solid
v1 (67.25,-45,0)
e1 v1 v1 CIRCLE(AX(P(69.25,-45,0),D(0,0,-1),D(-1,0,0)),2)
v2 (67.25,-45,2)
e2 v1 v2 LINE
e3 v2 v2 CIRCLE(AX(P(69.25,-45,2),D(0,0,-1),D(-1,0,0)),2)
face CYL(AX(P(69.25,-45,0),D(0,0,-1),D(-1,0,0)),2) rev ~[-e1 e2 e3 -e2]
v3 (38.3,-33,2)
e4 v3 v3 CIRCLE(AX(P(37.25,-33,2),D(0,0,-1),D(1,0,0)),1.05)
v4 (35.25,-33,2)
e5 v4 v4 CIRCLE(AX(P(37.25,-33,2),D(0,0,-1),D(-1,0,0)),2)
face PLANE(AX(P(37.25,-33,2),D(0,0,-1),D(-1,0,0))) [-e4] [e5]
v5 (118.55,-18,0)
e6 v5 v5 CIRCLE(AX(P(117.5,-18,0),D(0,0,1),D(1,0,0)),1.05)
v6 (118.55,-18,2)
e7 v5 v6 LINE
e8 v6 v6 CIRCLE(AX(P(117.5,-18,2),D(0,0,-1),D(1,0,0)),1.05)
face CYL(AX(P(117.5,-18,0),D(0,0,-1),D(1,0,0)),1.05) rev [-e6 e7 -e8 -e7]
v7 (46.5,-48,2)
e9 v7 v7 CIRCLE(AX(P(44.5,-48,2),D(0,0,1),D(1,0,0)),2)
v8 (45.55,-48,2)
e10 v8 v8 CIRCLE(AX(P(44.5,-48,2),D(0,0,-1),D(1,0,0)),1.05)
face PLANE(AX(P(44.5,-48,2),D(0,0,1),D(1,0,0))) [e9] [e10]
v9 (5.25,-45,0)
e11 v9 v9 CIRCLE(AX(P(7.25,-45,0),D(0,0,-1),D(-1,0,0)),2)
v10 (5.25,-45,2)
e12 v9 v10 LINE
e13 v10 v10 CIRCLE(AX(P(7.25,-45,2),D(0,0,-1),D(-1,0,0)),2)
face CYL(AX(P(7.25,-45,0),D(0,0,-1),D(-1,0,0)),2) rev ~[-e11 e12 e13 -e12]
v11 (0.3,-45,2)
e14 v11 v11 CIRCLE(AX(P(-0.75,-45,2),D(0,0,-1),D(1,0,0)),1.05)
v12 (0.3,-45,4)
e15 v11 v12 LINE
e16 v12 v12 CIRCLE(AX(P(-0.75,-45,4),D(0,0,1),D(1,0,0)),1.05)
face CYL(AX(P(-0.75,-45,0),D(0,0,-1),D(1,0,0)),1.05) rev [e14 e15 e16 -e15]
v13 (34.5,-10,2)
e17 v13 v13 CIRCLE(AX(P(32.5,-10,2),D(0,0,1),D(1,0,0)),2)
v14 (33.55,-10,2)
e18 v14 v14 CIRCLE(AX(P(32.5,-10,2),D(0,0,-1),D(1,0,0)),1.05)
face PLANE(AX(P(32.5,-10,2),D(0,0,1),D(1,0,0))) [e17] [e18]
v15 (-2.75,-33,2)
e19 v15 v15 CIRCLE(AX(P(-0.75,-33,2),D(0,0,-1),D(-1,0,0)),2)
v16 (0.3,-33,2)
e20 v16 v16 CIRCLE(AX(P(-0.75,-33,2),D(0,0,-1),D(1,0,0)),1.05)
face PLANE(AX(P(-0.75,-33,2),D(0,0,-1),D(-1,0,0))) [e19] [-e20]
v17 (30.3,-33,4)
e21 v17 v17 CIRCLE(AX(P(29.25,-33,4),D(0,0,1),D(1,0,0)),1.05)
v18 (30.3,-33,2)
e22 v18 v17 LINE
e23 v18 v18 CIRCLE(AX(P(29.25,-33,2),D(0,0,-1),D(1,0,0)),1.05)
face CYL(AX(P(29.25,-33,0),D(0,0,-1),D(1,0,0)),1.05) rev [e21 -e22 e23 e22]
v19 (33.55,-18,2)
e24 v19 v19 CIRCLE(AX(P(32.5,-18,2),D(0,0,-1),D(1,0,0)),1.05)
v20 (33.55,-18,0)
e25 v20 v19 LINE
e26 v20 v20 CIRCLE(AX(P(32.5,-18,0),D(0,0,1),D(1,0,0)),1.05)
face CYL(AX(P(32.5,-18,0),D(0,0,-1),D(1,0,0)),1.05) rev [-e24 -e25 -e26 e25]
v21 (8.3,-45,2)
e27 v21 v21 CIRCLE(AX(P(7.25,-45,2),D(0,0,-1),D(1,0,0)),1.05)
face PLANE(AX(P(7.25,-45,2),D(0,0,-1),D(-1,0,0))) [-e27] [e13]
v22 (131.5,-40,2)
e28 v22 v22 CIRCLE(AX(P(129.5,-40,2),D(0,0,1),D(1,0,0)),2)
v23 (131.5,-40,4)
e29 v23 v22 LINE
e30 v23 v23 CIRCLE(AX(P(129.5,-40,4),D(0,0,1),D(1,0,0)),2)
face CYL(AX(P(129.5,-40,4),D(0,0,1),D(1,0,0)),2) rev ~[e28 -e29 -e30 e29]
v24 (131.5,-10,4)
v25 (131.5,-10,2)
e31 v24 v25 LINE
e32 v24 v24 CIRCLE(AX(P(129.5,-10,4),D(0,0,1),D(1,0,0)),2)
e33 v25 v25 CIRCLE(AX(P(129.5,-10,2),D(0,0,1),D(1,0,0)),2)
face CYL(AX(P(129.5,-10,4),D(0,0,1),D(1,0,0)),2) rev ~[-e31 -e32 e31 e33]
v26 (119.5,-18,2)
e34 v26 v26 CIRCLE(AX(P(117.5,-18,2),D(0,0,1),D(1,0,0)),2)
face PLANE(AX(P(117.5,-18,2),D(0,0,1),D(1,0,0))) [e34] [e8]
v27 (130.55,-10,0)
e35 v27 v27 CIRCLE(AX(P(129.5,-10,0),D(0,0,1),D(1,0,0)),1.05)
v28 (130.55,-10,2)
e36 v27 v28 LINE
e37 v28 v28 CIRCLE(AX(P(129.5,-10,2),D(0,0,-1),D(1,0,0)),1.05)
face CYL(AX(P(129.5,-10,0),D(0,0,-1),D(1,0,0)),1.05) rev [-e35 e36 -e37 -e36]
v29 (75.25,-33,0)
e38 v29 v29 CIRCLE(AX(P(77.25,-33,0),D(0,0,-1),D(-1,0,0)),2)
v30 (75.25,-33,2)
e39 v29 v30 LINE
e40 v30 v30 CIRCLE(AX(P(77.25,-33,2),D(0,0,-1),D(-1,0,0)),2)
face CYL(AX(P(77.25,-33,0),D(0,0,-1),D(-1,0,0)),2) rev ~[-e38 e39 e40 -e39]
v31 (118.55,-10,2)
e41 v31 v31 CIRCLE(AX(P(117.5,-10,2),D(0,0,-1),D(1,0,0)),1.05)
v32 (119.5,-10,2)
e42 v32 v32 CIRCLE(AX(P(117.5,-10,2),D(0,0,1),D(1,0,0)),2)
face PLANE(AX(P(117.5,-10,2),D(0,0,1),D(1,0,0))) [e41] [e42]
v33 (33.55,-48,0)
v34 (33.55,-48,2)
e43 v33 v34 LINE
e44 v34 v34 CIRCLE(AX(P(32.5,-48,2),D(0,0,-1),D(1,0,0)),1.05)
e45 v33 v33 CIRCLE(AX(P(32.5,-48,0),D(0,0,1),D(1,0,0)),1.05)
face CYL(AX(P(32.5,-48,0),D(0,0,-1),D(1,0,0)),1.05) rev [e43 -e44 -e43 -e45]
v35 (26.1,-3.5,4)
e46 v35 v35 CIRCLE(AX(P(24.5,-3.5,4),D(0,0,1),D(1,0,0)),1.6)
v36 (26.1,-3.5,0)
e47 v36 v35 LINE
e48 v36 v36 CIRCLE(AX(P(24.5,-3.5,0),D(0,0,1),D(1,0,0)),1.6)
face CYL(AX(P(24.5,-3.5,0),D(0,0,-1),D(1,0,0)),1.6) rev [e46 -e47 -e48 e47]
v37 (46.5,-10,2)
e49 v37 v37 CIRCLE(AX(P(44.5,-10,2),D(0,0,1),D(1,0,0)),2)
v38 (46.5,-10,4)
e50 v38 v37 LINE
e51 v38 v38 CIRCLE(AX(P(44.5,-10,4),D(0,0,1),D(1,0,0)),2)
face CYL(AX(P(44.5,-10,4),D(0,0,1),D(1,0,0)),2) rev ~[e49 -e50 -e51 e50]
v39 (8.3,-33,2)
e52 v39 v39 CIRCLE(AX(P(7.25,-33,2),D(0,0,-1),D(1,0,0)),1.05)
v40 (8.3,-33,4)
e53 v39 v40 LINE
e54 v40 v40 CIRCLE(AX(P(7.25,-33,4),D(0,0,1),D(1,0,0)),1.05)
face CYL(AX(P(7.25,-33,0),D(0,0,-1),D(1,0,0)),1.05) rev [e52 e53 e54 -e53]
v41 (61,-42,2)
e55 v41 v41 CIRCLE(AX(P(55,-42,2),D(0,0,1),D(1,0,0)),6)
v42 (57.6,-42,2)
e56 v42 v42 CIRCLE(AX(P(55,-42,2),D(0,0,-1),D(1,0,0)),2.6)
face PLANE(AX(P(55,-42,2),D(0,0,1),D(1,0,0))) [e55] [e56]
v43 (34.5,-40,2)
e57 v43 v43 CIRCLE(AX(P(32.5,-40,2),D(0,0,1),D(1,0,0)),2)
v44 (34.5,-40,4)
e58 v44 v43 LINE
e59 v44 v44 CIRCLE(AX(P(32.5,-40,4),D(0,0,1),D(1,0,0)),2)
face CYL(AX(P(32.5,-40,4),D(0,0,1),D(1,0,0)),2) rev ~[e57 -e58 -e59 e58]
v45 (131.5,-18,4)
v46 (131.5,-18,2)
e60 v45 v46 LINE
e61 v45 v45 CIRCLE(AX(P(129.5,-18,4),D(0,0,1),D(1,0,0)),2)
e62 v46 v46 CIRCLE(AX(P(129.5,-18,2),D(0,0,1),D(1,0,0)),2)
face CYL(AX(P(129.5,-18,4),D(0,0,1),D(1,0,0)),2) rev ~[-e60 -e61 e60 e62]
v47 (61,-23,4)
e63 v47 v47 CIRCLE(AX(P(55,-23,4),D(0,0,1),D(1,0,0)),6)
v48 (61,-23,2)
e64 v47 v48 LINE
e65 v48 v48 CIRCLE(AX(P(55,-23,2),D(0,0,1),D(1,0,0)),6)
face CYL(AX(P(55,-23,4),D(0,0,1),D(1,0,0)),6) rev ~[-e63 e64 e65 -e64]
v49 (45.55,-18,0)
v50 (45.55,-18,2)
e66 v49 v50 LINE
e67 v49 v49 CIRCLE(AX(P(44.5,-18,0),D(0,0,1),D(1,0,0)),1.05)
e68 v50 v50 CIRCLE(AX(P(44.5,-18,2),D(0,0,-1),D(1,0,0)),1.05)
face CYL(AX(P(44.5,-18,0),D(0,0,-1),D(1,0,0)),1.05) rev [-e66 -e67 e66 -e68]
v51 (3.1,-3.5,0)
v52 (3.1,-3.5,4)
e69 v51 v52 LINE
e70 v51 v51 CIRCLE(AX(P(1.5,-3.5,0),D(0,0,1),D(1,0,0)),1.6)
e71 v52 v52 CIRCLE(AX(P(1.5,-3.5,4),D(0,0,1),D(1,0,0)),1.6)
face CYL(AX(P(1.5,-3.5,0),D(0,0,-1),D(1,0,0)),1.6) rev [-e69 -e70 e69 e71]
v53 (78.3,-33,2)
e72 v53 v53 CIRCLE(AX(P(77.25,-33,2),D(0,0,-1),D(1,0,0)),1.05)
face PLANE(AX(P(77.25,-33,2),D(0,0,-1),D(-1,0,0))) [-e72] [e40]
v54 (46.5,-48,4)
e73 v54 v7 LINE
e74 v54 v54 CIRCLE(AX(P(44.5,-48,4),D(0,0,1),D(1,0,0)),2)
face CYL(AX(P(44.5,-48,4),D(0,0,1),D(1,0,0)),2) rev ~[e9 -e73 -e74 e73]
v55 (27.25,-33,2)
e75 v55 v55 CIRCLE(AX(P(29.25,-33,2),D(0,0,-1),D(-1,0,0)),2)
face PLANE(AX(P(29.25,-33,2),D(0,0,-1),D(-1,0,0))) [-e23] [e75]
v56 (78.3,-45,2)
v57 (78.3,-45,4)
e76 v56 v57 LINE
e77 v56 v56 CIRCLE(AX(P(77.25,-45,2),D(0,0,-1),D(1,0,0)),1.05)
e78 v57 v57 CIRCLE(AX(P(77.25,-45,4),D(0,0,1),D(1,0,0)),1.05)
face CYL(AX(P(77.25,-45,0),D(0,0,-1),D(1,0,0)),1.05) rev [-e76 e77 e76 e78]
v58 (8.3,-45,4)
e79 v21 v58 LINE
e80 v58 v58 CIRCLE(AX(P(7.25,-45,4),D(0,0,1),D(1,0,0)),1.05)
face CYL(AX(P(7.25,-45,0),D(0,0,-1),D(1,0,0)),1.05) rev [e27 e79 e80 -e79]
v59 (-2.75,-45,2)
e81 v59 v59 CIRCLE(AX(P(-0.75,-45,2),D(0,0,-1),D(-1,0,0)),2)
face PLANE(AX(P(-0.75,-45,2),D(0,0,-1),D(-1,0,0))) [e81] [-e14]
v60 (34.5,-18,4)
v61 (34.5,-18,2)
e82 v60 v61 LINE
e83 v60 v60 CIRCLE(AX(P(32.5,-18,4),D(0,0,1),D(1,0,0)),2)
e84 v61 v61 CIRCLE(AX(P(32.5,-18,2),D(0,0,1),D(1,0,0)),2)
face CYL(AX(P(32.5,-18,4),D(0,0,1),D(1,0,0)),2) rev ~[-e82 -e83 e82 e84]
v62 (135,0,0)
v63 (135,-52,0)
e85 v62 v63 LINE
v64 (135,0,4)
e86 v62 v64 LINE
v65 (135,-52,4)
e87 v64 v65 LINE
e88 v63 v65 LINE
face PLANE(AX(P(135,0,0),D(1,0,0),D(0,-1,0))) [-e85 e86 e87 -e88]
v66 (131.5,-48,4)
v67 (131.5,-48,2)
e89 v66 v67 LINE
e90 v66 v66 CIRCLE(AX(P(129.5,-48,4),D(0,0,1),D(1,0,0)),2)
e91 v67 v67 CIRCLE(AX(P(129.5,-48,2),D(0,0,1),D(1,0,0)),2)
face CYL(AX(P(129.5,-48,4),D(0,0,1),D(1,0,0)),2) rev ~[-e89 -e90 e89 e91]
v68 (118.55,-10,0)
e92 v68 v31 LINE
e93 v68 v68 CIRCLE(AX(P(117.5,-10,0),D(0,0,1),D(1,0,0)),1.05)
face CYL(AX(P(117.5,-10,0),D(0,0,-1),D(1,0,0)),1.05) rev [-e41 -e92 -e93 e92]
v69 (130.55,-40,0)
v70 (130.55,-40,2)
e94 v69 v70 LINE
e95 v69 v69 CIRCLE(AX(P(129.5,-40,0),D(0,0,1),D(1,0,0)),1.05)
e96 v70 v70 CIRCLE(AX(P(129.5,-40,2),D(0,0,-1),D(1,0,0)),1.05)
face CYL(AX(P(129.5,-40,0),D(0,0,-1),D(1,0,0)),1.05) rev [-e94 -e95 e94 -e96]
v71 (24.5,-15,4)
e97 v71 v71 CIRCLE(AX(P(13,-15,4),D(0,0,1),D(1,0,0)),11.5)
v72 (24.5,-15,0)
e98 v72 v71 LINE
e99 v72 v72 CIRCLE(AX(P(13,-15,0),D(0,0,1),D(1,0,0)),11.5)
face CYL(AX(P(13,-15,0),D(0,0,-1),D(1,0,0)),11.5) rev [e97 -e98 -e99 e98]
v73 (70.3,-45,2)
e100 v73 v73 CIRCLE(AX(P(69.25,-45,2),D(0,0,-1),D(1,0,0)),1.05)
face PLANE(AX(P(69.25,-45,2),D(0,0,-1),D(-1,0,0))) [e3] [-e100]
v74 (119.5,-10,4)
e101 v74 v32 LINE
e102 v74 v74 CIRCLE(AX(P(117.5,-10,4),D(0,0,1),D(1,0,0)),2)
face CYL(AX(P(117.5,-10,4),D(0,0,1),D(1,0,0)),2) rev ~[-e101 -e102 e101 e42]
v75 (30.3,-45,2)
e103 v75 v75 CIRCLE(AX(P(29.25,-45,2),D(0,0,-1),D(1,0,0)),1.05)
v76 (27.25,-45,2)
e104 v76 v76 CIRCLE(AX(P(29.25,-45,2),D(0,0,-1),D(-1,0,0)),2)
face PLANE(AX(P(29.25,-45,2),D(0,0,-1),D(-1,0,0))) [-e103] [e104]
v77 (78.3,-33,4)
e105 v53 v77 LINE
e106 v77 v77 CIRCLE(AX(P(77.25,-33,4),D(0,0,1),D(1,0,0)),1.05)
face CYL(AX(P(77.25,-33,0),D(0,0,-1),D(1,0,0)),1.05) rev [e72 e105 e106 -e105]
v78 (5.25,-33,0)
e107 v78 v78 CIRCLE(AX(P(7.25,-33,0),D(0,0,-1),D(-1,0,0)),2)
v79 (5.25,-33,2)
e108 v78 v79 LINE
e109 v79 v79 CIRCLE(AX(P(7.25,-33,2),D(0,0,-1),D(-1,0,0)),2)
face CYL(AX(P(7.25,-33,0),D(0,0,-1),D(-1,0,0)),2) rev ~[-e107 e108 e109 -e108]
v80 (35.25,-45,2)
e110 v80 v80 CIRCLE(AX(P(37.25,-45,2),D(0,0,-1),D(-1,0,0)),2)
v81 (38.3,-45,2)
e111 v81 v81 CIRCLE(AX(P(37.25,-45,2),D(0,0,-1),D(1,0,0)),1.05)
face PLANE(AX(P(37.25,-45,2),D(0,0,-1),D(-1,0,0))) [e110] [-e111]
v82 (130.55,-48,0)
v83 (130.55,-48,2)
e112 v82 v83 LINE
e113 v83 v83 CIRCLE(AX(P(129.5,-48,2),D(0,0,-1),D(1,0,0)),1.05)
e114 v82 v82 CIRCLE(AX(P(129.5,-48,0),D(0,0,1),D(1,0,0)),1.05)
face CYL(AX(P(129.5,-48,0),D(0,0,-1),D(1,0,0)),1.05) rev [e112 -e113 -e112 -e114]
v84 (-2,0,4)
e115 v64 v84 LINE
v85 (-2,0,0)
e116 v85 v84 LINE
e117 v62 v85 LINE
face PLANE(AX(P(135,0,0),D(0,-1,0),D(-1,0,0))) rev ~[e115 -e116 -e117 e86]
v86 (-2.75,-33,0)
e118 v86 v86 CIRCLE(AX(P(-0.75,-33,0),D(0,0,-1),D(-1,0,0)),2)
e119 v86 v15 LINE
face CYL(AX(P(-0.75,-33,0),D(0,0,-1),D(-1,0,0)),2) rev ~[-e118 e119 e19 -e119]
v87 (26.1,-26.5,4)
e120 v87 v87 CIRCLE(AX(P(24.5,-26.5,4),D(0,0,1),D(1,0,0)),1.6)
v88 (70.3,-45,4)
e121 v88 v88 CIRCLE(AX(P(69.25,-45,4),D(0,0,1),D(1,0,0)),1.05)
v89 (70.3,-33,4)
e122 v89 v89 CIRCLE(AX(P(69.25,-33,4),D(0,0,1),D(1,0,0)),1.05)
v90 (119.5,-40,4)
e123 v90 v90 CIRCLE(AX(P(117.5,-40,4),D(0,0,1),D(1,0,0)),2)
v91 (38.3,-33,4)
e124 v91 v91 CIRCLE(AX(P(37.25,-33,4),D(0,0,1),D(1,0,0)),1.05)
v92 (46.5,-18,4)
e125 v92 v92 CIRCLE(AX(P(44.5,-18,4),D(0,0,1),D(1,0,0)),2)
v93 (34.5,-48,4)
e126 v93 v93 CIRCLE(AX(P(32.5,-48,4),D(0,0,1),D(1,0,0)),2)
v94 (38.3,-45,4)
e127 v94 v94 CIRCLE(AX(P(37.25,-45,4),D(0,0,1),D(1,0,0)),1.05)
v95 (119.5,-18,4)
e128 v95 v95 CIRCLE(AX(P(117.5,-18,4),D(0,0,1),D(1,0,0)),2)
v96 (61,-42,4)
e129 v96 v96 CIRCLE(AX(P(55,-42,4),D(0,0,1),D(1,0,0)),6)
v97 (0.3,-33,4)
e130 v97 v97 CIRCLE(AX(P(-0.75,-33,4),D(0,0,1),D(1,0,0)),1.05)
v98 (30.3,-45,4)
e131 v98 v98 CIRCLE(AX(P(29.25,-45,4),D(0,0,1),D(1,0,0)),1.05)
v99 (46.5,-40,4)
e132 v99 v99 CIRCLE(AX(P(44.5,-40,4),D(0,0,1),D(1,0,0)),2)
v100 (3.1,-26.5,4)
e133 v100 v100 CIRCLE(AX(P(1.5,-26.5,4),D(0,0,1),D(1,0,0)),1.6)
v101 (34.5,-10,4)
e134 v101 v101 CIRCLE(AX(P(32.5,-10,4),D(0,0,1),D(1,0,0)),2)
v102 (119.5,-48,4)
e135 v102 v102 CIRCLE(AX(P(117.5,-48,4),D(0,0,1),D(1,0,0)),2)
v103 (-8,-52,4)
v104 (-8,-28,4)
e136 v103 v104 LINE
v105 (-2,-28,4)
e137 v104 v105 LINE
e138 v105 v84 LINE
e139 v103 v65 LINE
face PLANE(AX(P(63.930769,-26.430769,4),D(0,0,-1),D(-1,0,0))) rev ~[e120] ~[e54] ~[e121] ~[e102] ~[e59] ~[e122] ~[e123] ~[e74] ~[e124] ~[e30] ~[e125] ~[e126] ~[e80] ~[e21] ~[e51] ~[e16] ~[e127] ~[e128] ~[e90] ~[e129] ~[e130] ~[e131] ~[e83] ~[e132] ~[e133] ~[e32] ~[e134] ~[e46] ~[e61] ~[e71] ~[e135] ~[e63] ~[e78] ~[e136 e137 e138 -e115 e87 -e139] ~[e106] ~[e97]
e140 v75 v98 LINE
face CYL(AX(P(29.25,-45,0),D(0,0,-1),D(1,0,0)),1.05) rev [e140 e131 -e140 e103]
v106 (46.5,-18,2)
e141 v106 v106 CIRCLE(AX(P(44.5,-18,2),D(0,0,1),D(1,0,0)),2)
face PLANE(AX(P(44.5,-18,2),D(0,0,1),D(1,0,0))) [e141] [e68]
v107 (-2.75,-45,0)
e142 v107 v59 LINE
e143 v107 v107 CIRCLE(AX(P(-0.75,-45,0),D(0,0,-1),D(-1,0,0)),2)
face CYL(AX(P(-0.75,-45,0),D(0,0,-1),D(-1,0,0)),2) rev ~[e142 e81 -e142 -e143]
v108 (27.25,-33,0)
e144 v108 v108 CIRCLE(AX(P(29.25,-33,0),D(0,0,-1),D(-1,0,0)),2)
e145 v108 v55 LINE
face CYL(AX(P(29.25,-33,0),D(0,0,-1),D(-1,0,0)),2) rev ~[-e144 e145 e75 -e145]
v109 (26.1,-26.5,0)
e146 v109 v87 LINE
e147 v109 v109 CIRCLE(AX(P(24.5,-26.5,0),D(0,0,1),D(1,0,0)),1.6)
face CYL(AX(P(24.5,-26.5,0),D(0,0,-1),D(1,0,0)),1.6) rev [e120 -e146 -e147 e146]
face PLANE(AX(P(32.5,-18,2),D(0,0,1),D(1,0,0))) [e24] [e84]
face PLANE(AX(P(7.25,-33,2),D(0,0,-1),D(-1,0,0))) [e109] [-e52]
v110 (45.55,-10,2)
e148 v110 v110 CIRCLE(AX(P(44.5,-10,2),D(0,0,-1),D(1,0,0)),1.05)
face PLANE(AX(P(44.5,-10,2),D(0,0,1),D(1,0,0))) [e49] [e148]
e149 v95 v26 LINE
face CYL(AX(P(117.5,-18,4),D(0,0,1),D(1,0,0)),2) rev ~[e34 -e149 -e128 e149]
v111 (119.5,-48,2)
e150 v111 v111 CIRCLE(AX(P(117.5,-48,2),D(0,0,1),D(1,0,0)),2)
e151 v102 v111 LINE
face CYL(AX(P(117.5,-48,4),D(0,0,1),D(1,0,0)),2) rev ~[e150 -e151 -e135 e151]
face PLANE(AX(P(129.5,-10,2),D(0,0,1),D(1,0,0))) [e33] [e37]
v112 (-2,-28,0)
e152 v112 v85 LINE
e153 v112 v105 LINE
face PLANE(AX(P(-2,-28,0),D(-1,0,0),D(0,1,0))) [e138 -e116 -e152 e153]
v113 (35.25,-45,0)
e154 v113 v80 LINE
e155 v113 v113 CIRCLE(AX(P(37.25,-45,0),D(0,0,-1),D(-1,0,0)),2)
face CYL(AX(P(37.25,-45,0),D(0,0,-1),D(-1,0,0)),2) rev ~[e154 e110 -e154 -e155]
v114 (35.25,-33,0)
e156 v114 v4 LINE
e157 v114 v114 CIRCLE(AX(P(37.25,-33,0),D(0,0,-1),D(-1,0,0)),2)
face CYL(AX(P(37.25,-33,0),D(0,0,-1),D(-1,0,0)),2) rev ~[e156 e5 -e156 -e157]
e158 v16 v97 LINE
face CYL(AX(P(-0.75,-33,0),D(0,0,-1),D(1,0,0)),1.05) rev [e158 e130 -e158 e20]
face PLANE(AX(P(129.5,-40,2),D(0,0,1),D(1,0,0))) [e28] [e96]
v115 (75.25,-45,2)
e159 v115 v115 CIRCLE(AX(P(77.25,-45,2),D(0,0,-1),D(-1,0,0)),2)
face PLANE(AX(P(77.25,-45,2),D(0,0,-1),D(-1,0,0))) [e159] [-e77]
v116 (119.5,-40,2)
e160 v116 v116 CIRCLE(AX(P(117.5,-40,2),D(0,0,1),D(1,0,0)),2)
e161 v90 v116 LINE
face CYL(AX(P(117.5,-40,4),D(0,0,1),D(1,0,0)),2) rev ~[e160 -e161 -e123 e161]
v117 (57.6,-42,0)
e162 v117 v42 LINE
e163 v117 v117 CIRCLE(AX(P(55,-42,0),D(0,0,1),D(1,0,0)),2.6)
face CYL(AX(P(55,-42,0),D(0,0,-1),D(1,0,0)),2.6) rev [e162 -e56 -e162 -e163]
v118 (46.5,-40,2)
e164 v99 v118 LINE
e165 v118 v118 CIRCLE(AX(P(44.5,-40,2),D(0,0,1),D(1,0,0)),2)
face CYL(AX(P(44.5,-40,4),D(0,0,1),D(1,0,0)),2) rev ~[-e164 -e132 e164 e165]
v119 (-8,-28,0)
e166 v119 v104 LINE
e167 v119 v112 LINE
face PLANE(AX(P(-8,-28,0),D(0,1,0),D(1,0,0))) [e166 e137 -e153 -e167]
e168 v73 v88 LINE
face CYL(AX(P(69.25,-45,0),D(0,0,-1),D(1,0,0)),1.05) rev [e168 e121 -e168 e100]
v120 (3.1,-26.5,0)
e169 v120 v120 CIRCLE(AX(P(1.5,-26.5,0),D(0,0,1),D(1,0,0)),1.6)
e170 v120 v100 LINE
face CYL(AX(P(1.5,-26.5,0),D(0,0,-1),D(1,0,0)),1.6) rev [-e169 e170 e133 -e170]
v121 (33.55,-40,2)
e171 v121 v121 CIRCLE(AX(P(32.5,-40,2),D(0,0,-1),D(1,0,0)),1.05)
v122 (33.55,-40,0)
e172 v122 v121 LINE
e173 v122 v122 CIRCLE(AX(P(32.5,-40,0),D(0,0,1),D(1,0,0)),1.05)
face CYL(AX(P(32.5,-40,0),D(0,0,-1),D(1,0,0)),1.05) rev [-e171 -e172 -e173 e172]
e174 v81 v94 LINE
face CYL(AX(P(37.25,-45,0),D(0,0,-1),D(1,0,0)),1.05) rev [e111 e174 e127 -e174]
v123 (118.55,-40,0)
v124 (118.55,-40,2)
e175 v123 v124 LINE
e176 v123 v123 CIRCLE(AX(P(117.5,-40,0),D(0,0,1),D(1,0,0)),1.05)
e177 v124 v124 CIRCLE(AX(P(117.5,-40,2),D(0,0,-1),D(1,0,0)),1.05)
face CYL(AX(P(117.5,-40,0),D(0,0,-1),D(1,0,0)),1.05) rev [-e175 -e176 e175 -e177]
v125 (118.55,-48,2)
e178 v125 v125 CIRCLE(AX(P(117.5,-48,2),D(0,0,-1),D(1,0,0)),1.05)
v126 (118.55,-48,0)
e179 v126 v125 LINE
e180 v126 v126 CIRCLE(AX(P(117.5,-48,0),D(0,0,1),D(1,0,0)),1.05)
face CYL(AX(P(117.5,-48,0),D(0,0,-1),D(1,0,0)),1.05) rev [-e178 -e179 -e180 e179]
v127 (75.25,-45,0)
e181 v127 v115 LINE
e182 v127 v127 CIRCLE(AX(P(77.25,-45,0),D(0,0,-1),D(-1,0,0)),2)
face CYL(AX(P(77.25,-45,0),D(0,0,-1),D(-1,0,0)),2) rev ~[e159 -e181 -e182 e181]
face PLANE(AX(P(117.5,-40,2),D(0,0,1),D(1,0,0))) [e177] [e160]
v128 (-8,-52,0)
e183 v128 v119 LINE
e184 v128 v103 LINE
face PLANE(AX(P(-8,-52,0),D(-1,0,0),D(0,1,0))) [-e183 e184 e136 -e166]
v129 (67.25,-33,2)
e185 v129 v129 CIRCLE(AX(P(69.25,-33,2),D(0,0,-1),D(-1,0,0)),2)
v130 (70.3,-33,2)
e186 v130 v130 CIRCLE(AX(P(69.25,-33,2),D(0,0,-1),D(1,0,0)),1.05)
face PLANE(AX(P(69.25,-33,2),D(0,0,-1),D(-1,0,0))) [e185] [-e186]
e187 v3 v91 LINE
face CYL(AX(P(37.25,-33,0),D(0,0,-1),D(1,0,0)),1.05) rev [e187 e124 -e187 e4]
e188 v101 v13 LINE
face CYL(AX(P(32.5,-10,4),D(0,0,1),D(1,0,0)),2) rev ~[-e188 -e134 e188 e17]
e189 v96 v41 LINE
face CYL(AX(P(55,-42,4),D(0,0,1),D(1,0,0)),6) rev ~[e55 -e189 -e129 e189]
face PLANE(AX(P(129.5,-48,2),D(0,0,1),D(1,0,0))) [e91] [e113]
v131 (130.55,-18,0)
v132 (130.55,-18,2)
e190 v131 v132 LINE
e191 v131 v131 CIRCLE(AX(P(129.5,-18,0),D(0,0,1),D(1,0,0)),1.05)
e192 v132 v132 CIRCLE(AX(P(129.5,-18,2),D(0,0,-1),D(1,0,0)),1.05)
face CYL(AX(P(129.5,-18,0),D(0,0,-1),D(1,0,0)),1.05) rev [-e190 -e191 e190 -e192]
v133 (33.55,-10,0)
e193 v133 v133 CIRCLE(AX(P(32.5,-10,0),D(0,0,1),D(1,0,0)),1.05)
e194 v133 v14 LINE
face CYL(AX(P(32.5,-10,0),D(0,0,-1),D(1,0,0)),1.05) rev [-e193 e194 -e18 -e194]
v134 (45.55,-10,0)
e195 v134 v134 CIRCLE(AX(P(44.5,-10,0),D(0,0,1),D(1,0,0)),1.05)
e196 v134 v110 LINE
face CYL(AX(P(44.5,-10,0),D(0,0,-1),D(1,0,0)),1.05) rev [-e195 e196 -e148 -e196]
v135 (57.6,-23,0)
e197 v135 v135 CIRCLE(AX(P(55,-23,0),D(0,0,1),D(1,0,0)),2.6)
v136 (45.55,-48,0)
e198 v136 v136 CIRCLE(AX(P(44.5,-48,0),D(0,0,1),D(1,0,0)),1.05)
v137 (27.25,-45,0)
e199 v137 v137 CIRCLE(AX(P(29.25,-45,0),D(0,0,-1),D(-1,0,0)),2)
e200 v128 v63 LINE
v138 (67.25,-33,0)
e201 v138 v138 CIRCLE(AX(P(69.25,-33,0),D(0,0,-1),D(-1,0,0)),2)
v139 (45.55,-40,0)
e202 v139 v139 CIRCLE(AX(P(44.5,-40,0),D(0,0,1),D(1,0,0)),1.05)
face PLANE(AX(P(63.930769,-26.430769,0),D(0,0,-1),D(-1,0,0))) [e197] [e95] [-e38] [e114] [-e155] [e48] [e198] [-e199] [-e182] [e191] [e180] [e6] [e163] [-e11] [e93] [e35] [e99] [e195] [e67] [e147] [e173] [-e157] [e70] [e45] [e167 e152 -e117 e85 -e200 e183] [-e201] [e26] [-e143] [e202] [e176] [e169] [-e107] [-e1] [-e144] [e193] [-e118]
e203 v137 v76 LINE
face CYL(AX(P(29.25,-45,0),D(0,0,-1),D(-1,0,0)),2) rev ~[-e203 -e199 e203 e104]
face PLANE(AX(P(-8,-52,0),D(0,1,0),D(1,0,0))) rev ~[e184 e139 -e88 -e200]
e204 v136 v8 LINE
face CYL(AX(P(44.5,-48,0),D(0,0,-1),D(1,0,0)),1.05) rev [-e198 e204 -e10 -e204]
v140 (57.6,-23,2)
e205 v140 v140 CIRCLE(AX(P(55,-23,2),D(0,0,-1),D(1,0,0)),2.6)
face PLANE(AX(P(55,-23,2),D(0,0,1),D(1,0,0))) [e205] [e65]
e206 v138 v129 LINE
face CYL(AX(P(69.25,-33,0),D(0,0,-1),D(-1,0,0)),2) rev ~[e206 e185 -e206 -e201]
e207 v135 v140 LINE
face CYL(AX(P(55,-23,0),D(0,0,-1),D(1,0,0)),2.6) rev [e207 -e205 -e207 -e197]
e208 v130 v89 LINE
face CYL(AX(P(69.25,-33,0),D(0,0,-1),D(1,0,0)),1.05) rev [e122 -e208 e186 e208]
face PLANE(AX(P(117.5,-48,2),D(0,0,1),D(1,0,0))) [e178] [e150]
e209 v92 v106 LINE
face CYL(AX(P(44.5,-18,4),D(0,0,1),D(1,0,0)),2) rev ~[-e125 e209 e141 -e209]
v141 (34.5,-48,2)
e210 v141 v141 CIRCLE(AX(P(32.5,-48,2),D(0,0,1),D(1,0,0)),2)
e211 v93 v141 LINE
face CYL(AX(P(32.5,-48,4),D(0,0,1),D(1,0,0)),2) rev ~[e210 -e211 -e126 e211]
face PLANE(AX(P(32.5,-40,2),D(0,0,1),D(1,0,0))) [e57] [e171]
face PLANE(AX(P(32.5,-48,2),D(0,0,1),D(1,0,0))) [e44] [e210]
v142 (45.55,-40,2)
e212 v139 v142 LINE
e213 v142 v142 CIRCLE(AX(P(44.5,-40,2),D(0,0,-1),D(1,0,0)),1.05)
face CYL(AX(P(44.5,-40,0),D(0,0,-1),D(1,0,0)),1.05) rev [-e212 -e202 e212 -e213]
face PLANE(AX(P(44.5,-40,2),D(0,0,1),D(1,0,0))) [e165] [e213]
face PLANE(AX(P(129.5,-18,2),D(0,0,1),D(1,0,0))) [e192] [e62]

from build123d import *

# Parameters (mm, degrees)
SKETCH_1_R          = 11.5
SKETCH_1_R_2        = 1.6
SKETCH_1_R_3        = 1.05
SKETCH_1_R_4        = 2.6
EXTRUDE_1_DEPTH     = 4
SKETCH_2_R          = 2
SKETCH_2_R_2        = 6
CUT_EXTRUDE_1_DEPTH = 2
SKETCH_5_R          = 2
CUT_EXTRUDE_2_DEPTH = 2


with BuildPart() as part:
    # 草图1 → 凸台-拉伸1 (new body)
    with BuildSketch(Plane.XY):
        Polygon((0, 0), (135, 0), (135, -52), (0, -52), (-8, -52), (-8, -28), (-2, -28), (-2, 0), align=None)
        with Locations((13, -15)):
            Circle(SKETCH_1_R, mode=Mode.SUBTRACT)
        with Locations((1.5, -3.5)):
            Circle(SKETCH_1_R_2, mode=Mode.SUBTRACT)
        with Locations((24.5, -3.5)):
            Circle(SKETCH_1_R_2, mode=Mode.SUBTRACT)
        with Locations((1.5, -26.5)):
            Circle(SKETCH_1_R_2, mode=Mode.SUBTRACT)
        with Locations((24.5, -26.5)):
            Circle(SKETCH_1_R_2, mode=Mode.SUBTRACT)
        with Locations((32.5, -10)):
            Circle(SKETCH_1_R_3, mode=Mode.SUBTRACT)
        with Locations((44.5, -10)):
            Circle(SKETCH_1_R_3, mode=Mode.SUBTRACT)
        with Locations((32.5, -18)):
            Circle(SKETCH_1_R_3, mode=Mode.SUBTRACT)
        with Locations((44.5, -18)):
            Circle(SKETCH_1_R_3, mode=Mode.SUBTRACT)
        with Locations((117.5, -10)):
            Circle(SKETCH_1_R_3, mode=Mode.SUBTRACT)
        with Locations((129.5, -10)):
            Circle(SKETCH_1_R_3, mode=Mode.SUBTRACT)
        with Locations((117.5, -18)):
            Circle(SKETCH_1_R_3, mode=Mode.SUBTRACT)
        with Locations((129.5, -18)):
            Circle(SKETCH_1_R_3, mode=Mode.SUBTRACT)
        with Locations((-0.75, -33)):
            Circle(SKETCH_1_R_3, mode=Mode.SUBTRACT)
        with Locations((7.25, -33)):
            Circle(SKETCH_1_R_3, mode=Mode.SUBTRACT)
        with Locations((-0.75, -45)):
            Circle(SKETCH_1_R_3, mode=Mode.SUBTRACT)
        with Locations((7.25, -45)):
            Circle(SKETCH_1_R_3, mode=Mode.SUBTRACT)
        with Locations((29.25, -33)):
            Circle(SKETCH_1_R_3, mode=Mode.SUBTRACT)
        with Locations((37.25, -33)):
            Circle(SKETCH_1_R_3, mode=Mode.SUBTRACT)
        with Locations((37.25, -45)):
            Circle(SKETCH_1_R_3, mode=Mode.SUBTRACT)
        with Locations((29.25, -45)):
            Circle(SKETCH_1_R_3, mode=Mode.SUBTRACT)
        with Locations((32.5, -40)):
            Circle(SKETCH_1_R_3, mode=Mode.SUBTRACT)
        with Locations((44.5, -40)):
            Circle(SKETCH_1_R_3, mode=Mode.SUBTRACT)
        with Locations((32.5, -48)):
            Circle(SKETCH_1_R_3, mode=Mode.SUBTRACT)
        with Locations((44.5, -48)):
            Circle(SKETCH_1_R_3, mode=Mode.SUBTRACT)
        with Locations((117.5, -40)):
            Circle(SKETCH_1_R_3, mode=Mode.SUBTRACT)
        with Locations((129.5, -40)):
            Circle(SKETCH_1_R_3, mode=Mode.SUBTRACT)
        with Locations((117.5, -48)):
            Circle(SKETCH_1_R_3, mode=Mode.SUBTRACT)
        with Locations((129.5, -48)):
            Circle(SKETCH_1_R_3, mode=Mode.SUBTRACT)
        with Locations((55, -23)):
            Circle(SKETCH_1_R_4, mode=Mode.SUBTRACT)
        with Locations((55, -42)):
            Circle(SKETCH_1_R_4, mode=Mode.SUBTRACT)
        with Locations((77.25, -33)):
            Circle(SKETCH_1_R_3, mode=Mode.SUBTRACT)
        with Locations((77.25, -45)):
            Circle(SKETCH_1_R_3, mode=Mode.SUBTRACT)
        with Locations((69.25, -45)):
            Circle(SKETCH_1_R_3, mode=Mode.SUBTRACT)
        with Locations((69.25, -33)):
            Circle(SKETCH_1_R_3, mode=Mode.SUBTRACT)
    extrude(amount=EXTRUDE_1_DEPTH)

    # 草图2 → 切除-拉伸1 (cut)
    with BuildSketch(Plane.XY.offset(4)):
        with Locations((32.5, -10)):
            Circle(SKETCH_2_R)
        with Locations((44.5, -10)):
            Circle(SKETCH_2_R)
        with Locations((32.5, -18)):
            Circle(SKETCH_2_R)
        with Locations((44.5, -18)):
            Circle(SKETCH_2_R)
        with Locations((117.5, -10)):
            Circle(SKETCH_2_R)
        with Locations((129.5, -10)):
            Circle(SKETCH_2_R)
        with Locations((117.5, -18)):
            Circle(SKETCH_2_R)
        with Locations((129.5, -18)):
            Circle(SKETCH_2_R)
        with Locations((32.5, -40)):
            Circle(SKETCH_2_R)
        with Locations((44.5, -40)):
            Circle(SKETCH_2_R)
        with Locations((32.5, -48)):
            Circle(SKETCH_2_R)
        with Locations((44.5, -48)):
            Circle(SKETCH_2_R)
        with Locations((117.5, -40)):
            Circle(SKETCH_2_R)
        with Locations((129.5, -40)):
            Circle(SKETCH_2_R)
        with Locations((117.5, -48)):
            Circle(SKETCH_2_R)
        with Locations((55, -23)):
            Circle(SKETCH_2_R_2)
        with Locations((129.5, -48)):
            Circle(SKETCH_2_R)
        with Locations((55, -42)):
            Circle(SKETCH_2_R_2)
    extrude(amount=-CUT_EXTRUDE_1_DEPTH, mode=Mode.SUBTRACT)

    # 草图5 → 切除-拉伸2 (cut)
    with BuildSketch(Plane(origin=(0, 0, 0), x_dir=(-1, 0, 0), z_dir=(0, 0, -1))):
        with Locations((-37.25, -33)):
            Circle(SKETCH_5_R)
        with Locations((-29.25, -33)):
            Circle(SKETCH_5_R)
        with Locations((-37.25, -45)):
            Circle(SKETCH_5_R)
        with Locations((-29.25, -45)):
            Circle(SKETCH_5_R)
        with Locations((-7.25, -33)):
            Circle(SKETCH_5_R)
        with Locations((0.75, -33)):
            Circle(SKETCH_5_R)
        with Locations((-7.25, -45)):
            Circle(SKETCH_5_R)
        with Locations((0.75, -45)):
            Circle(SKETCH_5_R)
        with Locations((-69.25, -33)):
            Circle(SKETCH_5_R)
        with Locations((-69.25, -45)):
            Circle(SKETCH_5_R)
        with Locations((-77.25, -45)):
            Circle(SKETCH_5_R)
        with Locations((-77.25, -33)):
            Circle(SKETCH_5_R)
    extrude(amount=-CUT_EXTRUDE_2_DEPTH, mode=Mode.SUBTRACT)


solid = part.part
